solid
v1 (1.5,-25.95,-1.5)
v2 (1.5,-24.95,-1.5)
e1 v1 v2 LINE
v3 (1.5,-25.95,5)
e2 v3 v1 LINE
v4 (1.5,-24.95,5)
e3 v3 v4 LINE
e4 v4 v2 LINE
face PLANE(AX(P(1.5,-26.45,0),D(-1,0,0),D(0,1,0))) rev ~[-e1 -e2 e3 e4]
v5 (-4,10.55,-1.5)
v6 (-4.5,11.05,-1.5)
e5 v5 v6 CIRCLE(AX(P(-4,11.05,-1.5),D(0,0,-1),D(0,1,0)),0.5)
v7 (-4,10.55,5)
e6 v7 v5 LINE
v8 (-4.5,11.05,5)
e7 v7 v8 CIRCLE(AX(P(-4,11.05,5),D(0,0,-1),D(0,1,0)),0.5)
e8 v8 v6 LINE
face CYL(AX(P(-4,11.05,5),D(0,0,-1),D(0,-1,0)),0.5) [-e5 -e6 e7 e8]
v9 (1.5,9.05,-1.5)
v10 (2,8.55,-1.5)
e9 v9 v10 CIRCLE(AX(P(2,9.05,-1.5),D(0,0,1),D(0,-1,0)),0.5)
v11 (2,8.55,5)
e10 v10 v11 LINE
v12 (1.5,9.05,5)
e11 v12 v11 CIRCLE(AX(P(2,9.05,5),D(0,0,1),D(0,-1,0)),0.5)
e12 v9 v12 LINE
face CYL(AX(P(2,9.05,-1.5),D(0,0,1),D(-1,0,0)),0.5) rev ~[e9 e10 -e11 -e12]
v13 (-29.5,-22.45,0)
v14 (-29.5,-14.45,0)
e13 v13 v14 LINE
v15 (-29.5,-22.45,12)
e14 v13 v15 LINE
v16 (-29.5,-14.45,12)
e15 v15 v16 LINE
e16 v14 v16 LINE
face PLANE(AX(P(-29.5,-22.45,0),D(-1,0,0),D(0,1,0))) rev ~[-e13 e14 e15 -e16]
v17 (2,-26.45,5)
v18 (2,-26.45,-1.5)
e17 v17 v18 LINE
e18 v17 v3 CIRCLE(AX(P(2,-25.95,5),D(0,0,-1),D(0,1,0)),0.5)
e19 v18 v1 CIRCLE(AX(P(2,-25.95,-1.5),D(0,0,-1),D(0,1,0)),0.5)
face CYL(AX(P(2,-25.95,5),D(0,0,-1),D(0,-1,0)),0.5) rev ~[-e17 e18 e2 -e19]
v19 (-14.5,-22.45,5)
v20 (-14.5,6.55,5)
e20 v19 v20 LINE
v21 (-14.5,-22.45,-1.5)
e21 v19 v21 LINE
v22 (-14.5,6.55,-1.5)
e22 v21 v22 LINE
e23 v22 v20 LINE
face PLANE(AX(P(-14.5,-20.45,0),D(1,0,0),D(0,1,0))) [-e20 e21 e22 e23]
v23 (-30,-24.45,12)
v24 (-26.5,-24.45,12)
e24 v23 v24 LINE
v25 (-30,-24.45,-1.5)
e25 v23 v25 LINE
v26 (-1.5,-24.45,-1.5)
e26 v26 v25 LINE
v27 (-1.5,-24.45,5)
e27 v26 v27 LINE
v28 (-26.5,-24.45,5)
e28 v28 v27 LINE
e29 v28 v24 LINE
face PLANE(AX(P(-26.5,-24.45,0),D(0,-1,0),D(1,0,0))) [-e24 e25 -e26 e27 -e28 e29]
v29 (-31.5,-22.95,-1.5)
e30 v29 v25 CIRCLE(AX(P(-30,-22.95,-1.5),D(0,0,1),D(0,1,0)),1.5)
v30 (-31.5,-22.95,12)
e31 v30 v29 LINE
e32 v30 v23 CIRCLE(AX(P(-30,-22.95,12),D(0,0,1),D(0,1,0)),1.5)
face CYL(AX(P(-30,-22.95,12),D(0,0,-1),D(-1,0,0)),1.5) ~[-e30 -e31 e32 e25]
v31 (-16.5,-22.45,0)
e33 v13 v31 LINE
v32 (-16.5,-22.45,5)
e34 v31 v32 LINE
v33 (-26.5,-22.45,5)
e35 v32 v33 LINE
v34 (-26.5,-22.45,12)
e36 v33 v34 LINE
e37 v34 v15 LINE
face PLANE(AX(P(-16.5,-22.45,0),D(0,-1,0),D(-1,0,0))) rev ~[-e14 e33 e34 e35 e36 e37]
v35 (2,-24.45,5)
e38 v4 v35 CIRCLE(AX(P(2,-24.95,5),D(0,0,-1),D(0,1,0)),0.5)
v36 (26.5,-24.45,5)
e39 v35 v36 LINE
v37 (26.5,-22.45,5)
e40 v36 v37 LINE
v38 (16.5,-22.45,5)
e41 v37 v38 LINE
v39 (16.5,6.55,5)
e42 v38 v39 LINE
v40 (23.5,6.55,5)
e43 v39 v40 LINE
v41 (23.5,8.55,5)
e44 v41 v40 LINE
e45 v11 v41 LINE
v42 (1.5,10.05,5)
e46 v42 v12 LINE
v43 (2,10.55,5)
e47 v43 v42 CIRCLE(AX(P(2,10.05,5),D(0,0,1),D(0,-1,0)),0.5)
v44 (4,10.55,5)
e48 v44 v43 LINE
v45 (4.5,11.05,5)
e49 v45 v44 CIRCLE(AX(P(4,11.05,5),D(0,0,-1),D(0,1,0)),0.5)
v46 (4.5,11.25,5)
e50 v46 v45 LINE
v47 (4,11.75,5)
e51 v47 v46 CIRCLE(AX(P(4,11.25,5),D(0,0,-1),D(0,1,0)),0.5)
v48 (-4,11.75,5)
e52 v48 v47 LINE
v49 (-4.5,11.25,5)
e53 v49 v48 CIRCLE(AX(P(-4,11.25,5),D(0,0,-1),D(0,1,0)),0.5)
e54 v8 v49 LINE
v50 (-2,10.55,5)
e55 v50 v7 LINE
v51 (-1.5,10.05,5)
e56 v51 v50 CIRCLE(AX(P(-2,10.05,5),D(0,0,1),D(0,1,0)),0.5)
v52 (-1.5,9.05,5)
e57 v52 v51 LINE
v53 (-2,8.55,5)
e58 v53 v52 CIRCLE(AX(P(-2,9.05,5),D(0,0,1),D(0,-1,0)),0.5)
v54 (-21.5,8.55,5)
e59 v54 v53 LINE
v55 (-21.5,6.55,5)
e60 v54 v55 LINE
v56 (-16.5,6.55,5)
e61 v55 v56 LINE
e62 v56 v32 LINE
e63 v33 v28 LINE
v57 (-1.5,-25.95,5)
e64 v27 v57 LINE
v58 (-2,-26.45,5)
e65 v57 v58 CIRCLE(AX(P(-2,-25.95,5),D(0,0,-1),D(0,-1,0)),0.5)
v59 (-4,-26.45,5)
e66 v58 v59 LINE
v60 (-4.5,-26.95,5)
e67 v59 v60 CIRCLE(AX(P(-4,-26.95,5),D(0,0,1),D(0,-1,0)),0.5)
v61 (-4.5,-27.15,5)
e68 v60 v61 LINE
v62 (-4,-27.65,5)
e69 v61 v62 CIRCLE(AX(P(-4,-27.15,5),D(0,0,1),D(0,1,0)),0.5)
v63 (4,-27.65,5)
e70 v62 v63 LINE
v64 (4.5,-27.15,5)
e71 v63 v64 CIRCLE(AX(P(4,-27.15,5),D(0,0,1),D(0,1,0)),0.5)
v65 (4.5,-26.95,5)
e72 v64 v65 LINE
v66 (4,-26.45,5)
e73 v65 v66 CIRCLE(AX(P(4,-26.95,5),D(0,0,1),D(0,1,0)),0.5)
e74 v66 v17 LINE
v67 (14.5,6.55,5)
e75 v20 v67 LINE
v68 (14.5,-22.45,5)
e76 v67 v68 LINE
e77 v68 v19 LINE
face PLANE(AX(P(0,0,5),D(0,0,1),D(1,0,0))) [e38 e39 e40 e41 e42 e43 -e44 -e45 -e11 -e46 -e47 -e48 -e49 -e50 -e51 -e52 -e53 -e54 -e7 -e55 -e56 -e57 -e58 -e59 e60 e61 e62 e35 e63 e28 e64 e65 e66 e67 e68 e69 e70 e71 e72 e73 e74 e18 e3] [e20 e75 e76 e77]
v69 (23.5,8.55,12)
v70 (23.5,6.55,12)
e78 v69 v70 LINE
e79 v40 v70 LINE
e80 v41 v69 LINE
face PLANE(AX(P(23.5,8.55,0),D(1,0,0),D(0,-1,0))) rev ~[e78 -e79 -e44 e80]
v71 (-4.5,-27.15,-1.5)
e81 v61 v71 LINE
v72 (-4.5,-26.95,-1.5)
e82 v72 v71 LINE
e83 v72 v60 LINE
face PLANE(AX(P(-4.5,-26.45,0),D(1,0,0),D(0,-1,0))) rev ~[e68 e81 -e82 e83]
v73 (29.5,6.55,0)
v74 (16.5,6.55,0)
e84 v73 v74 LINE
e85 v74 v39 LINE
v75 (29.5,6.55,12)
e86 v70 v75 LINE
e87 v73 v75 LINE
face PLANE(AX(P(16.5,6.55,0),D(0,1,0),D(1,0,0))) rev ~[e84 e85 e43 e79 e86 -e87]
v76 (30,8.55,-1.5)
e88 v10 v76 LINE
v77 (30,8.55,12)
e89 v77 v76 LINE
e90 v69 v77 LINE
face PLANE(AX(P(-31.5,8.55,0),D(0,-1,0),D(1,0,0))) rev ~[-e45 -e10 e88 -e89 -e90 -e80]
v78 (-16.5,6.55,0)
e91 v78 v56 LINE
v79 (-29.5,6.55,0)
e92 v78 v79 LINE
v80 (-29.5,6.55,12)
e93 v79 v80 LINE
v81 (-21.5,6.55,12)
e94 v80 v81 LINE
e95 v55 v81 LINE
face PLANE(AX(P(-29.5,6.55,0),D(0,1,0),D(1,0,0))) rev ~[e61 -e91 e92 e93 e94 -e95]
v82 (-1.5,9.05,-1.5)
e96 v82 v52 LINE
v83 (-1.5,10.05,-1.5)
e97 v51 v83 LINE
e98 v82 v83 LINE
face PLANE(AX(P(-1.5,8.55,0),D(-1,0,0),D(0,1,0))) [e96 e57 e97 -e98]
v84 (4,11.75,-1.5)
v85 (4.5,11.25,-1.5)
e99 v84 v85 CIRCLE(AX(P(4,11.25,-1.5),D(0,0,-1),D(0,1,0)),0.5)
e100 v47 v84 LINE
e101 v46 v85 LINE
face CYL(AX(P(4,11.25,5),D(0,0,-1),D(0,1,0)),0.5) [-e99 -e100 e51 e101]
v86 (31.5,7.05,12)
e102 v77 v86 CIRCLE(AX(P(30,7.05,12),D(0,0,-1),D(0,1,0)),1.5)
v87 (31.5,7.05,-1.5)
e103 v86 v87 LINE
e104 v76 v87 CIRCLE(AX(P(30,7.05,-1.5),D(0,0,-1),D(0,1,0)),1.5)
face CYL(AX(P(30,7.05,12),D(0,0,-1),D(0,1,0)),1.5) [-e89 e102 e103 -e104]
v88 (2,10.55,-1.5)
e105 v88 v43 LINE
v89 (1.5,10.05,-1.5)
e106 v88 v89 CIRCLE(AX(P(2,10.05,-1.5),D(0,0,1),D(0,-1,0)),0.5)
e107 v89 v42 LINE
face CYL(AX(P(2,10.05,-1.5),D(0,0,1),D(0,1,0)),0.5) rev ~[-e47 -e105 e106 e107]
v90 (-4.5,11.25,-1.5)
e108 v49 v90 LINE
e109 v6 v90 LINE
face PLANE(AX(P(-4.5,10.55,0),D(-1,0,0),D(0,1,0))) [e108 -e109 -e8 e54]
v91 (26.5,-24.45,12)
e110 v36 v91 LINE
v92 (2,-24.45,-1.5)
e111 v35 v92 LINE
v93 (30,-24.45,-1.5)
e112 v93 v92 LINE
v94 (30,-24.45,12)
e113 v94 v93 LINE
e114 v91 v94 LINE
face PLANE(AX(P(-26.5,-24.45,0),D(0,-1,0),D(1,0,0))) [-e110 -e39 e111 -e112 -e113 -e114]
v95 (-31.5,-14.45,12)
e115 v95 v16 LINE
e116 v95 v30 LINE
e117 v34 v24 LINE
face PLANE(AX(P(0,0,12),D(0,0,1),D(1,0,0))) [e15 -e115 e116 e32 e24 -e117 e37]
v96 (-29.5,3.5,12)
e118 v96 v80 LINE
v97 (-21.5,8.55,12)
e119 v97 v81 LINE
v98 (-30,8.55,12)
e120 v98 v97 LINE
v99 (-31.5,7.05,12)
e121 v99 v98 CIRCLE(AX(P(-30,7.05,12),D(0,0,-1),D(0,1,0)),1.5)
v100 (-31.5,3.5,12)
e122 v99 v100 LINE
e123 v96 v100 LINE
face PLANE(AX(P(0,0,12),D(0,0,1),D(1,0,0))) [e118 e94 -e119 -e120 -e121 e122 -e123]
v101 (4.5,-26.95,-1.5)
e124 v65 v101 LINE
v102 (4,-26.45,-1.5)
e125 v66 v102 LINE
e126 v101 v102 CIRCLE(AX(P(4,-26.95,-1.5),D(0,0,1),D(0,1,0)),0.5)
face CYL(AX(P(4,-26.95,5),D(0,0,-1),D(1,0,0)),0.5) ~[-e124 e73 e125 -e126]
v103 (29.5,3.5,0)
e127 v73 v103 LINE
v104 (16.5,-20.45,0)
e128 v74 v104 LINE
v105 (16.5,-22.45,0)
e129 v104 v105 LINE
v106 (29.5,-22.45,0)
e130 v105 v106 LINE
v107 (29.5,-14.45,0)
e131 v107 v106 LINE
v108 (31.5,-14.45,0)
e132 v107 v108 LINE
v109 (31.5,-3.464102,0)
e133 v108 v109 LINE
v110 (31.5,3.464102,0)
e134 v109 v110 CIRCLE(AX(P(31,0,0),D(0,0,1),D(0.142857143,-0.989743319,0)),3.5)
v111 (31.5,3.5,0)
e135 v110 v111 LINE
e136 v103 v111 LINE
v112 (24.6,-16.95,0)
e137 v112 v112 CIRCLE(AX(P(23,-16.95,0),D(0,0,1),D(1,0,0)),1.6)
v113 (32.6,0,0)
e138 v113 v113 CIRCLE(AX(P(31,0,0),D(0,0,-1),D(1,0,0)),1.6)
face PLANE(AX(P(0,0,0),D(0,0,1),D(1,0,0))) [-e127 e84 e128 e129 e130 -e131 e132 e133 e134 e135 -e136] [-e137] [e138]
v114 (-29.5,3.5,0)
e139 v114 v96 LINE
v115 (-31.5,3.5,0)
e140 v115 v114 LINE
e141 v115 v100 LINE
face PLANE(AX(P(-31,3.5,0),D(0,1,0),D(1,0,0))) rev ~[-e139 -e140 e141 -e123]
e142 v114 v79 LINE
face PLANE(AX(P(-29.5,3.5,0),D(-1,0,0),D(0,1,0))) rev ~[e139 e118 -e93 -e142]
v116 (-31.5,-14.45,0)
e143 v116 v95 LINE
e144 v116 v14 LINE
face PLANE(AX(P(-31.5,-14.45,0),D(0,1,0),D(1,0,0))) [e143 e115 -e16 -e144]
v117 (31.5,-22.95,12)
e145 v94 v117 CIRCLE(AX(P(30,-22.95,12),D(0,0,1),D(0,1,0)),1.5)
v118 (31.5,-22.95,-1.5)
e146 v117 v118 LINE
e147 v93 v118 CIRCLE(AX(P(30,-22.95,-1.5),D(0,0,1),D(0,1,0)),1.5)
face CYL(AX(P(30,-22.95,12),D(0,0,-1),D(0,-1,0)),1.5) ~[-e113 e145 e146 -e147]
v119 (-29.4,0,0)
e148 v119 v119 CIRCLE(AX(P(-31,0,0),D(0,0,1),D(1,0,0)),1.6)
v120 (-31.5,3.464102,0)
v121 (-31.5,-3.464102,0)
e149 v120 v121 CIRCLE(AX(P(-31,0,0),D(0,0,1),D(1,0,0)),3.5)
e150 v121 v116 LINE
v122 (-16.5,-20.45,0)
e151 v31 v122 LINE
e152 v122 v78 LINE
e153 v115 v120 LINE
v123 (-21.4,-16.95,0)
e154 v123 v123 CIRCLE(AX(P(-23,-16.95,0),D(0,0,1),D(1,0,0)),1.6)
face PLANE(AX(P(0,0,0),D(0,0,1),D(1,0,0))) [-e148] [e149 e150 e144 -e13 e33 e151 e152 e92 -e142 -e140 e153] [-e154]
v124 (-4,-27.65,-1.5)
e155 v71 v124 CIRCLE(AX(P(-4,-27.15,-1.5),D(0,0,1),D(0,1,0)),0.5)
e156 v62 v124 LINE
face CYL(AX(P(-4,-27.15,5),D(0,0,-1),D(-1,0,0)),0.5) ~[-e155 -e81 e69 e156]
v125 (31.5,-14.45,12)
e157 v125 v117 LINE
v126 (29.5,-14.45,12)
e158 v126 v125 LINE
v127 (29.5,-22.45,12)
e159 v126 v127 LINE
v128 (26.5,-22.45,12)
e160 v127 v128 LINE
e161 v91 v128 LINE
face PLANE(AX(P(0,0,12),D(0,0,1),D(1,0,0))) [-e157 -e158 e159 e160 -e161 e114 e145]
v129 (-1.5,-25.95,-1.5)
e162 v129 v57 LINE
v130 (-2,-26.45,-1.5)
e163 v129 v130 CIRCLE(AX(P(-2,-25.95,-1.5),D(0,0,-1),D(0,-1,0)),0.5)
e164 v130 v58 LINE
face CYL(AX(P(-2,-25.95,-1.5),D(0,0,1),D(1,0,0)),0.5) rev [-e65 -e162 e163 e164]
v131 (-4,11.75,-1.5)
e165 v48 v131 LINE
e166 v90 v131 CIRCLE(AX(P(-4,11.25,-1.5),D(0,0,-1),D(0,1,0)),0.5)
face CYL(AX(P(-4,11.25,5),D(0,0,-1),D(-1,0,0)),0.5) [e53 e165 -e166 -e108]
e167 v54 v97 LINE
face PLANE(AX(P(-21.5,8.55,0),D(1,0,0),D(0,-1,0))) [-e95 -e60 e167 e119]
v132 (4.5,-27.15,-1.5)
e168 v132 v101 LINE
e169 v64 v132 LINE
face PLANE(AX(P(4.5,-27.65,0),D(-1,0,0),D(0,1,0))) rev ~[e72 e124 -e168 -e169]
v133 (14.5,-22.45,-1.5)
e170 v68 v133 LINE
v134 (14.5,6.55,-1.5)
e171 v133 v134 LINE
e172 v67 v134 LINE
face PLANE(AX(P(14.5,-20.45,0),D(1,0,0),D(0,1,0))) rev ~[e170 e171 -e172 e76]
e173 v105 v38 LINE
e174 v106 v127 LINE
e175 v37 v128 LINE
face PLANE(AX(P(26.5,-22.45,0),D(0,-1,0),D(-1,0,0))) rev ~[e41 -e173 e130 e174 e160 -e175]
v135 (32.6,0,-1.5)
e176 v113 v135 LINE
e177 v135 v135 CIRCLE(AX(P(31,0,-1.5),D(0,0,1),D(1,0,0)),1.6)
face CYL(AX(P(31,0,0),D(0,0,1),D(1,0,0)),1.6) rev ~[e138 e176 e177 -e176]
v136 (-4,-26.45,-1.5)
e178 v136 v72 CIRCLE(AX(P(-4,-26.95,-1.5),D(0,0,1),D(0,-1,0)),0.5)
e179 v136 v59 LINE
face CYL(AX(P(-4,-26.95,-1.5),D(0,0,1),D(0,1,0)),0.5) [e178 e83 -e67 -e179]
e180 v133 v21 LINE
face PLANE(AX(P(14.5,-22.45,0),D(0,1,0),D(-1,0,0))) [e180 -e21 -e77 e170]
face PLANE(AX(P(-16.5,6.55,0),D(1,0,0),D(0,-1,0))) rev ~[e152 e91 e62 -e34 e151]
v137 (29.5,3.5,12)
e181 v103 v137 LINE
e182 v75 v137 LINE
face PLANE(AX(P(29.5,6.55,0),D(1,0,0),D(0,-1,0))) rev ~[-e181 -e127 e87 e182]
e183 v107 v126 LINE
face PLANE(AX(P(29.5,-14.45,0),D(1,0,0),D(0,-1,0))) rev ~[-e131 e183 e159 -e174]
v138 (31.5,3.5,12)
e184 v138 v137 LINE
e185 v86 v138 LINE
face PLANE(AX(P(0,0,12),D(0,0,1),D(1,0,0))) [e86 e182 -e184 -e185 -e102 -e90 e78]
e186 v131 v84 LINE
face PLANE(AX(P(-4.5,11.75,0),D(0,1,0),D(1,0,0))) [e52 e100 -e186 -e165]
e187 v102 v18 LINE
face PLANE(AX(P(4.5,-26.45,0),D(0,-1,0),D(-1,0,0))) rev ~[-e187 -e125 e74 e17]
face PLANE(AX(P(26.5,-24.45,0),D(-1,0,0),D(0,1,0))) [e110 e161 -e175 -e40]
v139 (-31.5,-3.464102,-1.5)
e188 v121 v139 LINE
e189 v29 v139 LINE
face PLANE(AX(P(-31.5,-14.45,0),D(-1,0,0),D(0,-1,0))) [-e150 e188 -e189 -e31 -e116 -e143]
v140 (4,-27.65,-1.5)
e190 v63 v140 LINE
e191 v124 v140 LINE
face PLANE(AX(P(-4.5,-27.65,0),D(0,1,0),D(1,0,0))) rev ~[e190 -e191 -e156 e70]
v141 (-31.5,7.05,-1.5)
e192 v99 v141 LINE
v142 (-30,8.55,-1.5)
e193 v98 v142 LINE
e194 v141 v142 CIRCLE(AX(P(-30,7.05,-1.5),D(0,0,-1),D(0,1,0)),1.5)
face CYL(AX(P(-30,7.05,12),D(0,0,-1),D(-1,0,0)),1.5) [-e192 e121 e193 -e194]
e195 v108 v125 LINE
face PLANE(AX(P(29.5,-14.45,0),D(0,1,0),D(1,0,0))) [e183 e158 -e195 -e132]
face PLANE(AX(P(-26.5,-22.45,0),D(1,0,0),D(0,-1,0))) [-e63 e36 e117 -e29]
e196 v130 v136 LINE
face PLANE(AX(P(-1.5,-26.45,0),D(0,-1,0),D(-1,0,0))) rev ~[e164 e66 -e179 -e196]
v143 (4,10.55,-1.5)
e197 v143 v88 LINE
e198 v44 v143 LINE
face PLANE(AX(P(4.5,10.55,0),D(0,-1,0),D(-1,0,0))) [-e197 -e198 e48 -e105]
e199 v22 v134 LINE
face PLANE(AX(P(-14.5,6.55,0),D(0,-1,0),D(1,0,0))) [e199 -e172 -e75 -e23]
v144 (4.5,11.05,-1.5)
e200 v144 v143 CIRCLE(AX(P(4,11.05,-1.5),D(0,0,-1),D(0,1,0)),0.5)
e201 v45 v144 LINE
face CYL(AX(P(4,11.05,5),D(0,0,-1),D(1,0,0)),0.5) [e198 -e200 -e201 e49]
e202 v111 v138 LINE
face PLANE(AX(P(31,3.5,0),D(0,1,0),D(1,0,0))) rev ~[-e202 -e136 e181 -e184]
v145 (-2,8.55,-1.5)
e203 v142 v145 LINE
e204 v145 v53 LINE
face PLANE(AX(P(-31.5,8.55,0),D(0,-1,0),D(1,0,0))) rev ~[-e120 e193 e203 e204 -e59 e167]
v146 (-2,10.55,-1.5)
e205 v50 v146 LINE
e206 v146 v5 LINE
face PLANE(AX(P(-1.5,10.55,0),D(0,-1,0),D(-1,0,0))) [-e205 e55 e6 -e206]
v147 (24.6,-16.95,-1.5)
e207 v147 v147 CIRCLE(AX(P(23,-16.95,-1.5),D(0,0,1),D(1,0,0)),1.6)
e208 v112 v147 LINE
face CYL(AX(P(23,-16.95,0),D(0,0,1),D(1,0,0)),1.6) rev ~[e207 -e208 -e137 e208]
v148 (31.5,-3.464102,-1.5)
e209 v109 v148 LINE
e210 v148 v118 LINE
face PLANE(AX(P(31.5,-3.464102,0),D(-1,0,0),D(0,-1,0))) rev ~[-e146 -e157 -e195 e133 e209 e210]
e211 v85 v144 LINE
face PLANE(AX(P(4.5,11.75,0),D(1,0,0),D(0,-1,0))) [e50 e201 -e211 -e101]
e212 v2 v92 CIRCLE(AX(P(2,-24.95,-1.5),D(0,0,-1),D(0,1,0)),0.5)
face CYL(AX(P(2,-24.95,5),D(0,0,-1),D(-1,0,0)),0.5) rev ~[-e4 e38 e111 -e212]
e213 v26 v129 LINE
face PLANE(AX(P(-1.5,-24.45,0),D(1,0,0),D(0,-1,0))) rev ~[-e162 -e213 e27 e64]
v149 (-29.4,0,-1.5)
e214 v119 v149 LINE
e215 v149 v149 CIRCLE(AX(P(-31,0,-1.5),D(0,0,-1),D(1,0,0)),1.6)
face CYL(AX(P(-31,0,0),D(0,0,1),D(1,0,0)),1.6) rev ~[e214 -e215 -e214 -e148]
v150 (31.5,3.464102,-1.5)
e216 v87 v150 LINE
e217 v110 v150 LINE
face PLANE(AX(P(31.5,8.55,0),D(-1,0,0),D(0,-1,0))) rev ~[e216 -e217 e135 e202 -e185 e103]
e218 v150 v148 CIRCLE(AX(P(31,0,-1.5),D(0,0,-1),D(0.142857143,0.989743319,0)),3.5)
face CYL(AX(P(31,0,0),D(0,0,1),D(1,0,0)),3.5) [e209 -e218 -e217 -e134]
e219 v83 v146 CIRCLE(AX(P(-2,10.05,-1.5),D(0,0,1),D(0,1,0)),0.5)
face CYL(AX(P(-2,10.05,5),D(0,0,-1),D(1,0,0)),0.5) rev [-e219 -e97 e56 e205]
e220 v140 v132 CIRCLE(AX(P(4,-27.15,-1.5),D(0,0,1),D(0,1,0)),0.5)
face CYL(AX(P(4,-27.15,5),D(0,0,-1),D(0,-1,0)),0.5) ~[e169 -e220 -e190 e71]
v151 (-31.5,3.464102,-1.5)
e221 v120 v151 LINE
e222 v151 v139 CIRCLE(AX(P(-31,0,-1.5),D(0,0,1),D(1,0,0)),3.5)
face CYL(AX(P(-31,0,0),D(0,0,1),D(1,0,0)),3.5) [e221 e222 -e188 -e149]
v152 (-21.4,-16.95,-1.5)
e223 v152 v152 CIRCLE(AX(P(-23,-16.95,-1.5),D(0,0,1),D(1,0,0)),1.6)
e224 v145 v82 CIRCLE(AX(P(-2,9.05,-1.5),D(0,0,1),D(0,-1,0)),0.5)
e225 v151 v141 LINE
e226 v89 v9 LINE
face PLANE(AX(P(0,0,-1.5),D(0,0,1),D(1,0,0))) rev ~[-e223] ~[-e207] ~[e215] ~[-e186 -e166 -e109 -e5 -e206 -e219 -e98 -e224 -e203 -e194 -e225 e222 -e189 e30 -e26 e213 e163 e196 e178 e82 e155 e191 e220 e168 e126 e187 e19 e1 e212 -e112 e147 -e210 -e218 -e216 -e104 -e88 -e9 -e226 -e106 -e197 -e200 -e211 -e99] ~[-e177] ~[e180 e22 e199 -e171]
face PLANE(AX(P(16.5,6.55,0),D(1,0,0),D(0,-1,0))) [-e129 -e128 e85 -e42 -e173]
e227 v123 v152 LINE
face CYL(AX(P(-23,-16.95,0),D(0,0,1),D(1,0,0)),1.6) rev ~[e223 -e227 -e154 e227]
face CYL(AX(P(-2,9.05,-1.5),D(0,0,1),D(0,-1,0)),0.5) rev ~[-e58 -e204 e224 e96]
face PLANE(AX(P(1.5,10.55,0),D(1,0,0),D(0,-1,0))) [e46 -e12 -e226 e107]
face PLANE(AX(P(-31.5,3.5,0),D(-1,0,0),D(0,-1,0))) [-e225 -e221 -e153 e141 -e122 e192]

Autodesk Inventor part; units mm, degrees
ref_plane "YZ Plane" through (0, 0, 0) normal (1, 0, 0) x (0, 1, 0)
ref_plane "XZ Plane" through (0, 0, 0) normal (0, 1, 0) x (-1, 0, 0)
ref_plane "XY Plane" through (0, 0, 0) normal (0, 0, 1) x (1, 0, 0)
sketch "スケッチ1" plane through (0, 0, 0) normal (0, 0, 1) x (1, 0, 0)
  line L0 (-44.3295, 0) -> (44.3295, 0) construction
  line L1 (0, 23.7122) -> (0, -23.7122) construction
  line L2 (-26.6016, -16.95) -> (26.6016, -16.95) construction
  line L3 (-23, 17.7575) -> (-23, -30.8175) construction
  line L4 (23, -30.8175) -> (23, 17.7575) construction
  line L5 (-31, 17.7575) -> (-31, -30.8175) construction
  line L6 (31, -30.8175) -> (31, 17.7575) construction
  circle A0 centre (-31, 0) radius 1.6
  circle A1 centre (-23, -16.95) radius 1.6
  circle A2 centre (23, -16.95) radius 1.6
  circle A3 centre (31, 0) radius 1.6
  line L7 (-29.5, 6.55) -> (29.5, 6.55)
  line L8 (29.5, 6.55) -> (29.5, -22.45)
  line L9 (29.5, -22.45) -> (-29.5, -22.45)
  line L10 (-29.5, -22.45) -> (-29.5, 6.55)
  circle A4 centre (-23, -16.95) radius 3.5
  circle A5 centre (-31, 0) radius 3.5
  circle A6 centre (23, -16.95) radius 3.5
  circle A7 centre (31, 0) radius 3.5
  line L11 (-31.5, 8.55) -> (31.5, 8.55)
  line L12 (-31.5, 8.55) -> (-31.5, -24.45)
  line L13 (31.5, 8.55) -> (31.5, -24.45)
  line L14 (-31.5, -24.45) -> (31.5, -24.45)
  line L15 (-23, -20.45) -> (23, -20.45)
  line L16 (-26.5, -22.45) -> (-26.5, -24.45)
  line L17 (26.5, -24.45) -> (26.5, -22.45)
  line L18 (-31.5, -14.45) -> (-29.5, -14.45)
  line L19 (-31.5, 3.5) -> (-29.5, 3.5)
  line L20 (29.5, 3.5) -> (31.5, 3.5)
  line L21 (29.5, -14.45) -> (31.5, -14.45)
  line L22 (-21.5, 8.55) -> (-21.5, 6.55)
  line L23 (23.5, 8.55) -> (23.5, 6.55)
  line L24 (-16.5, 8.55) -> (-16.5, -24.45)
  line L25 (-14.5, -24.45) -> (-14.5, 8.55)
  line L26 (16.5, 8.55) -> (16.5, -24.45)
  line L27 (14.5, -24.45) -> (14.5, 8.55)
  line L28 (-40.1456, -7.95) -> (40.1456, -7.95) construction
  line L29 (-1.5, 8.55) -> (-1.5, 10.55)
  line L30 (-1.5, 10.55) -> (-4.5, 10.55)
  line L31 (-4.5, 10.55) -> (-4.5, 11.75)
  line L32 (-4.5, 11.75) -> (4.5, 11.75)
  line L33 (4.5, 11.75) -> (4.5, 10.55)
  line L34 (4.5, 10.55) -> (1.5, 10.55)
  line L35 (1.5, 10.55) -> (1.5, 8.55)
  line L36 (-1.5, -24.45) -> (-1.5, -26.45)
  line L37 (-1.5, -26.45) -> (-4.5, -26.45)
  line L38 (-4.5, -26.45) -> (-4.5, -27.65)
  line L39 (-4.5, -27.65) -> (4.5, -27.65)
  line L40 (4.5, -27.65) -> (4.5, -26.45)
  line L41 (4.5, -26.45) -> (1.5, -26.45)
  line L42 (1.5, -26.45) -> (1.5, -24.45)
  point P0 (0, 0)
  point P1 (0, 0)
  point P2 (0, -16.95)
  point P3 (0, -22.45)
  point P4 (-31.5, 3.4641)
  point P5 (-31.5, -3.4641)
  point P6 (-26.3541, -17.95)
  point P7 (26.3541, -17.95)
  point P8 (31.5, -3.4641)
  point P9 (31.5, 3.4641)
  point P10 (29.5, -3.1623)
  point P11 (25.8723, -14.95)
  point P12 (-19.6459, -17.95)
  point P13 (19.6459, -17.95)
  point P14 (20.1277, -14.95)
  point P15 (-20.1277, -14.95)
  point P16 (-25.8723, -14.95)
  point P17 (-29.5, -3.1623)
  point P18 (29.5, 3.1623)
  point P19 (-29.5, 3.1623)
  point P20 (0, -7.95)
  point P21 (16.5, -22.45)
  point P22 (14.5, -22.45)
  point P23 (-14.5, -22.45)
  point P24 (-16.5, -22.45)
  point P25 (16.5, 6.55)
  point P26 (14.5, 6.55)
  point P27 (-14.5, 6.55)
  point P28 (-16.5, 6.55)
  point P29 (14.5, -20.45)
  point P30 (-14.5, -20.45)
  dimension "MOUNT_W" = 16.95
  dimension "d1" = 23
  dimension "d2" = 31
  dimension "d3" = 3.2
  dimension "d4" = 59
  dimension "d5" = 29
  dimension "d8" = 7
  dimension "d9" = 2
  dimension "d10" = 2
  dimension "d11" = 2
  dimension "d12" = 2
  dimension "d18" = 8
  dimension "d19" = 8
  dimension "d20" = 8
  dimension "d24" = 2
  dimension "d25" = 2
  dimension "d26" = 2
  dimension "d27" = 13
  dimension "d28" = 13
  dimension "d33" = 3
  dimension "d34" = 9
  dimension "d35" = 2
  dimension "d36" = 1.2
extrude "ベース" add sketch "スケッチ1" against normal blind 1.5 contours A0 L10 A5 | A0 L12 A5 L10 | L10 A5 L12 A0 | A0 L12 A5 | A5 L19 L10 | A4 | L10 L7 L24 L9 A5 | L10 L18 L12 A5 | L12 L19 A5 | L19 L12 L11 L22 L7 L10 | L10 L9 L16 L14 L12 L18 | L22 L11 L24 L7 | L9 L24 L14 L16 | L24 L11 L25 L7 | L7 L25 L15 L24 | L24 L15 L25 L9 | L9 L25 L14 L24 | L25 L11 L27 L7 | L7 L27 L15 L25 | L25 L15 L27 L9 | L9 L27 L14 L25 | L27 L11 L26 L7 | L7 L26 L15 L27 | L27 L15 L26 L9 | L9 L26 L14 L27 | L26 L11 L23 L7 | A6 | L7 L8 A7 L9 L26 | L9 L17 L14 L26 | L23 L11 L13 L20 L8 L7 | L9 L8 L21 L13 L14 L17 | L20 A7 L8 | L8 A7 L13 L21 | A7 L13 A3 L8 | L8 A3 A7 | L20 L13 A7 | L8 A3 L13 A7 | A7 L13 A3
extrude "囲い柱" add sketch "スケッチ1" along normal blind 12 contours L19 L12 L11 L22 L7 L10 | L10 L9 L16 L14 L12 L18 | L23 L11 L13 L20 L8 L7 | L9 L8 L21 L13 L14 L17
extrude "底上げ" add sketch "スケッチ1" along normal blind 5 contours L22 L11 L24 L7 | L9 L24 L14 L16 | L24 L11 L25 L7 | L7 L25 L15 L24 | L24 L15 L25 L9 | L9 L25 L14 L24 | L25 L11 L27 L7 | L9 L27 L14 L25 | L27 L11 L26 L7 | L7 L26 L15 L27 | L27 L15 L26 L9 | L9 L26 L14 L27 | L26 L11 L23 L7 | L9 L17 L14 L26
extrude "肉抜き" cut sketch "スケッチ1" against normal through all contours L7 L27 L15 L25 | L25 L15 L27 L9
extrude "輪ゴムタブ" add sketch "スケッチ1" along normal blind 5 and the other way blind 1.5 contours L29 L30 L31 L32 L33 L34 L35 L11 | L14 L42 L41 L40 L39 L38 L37 L36
fillet "フィレット1" radius 1.5 4 edges at (-31.5, 8.55, 5.25) (31.5, 8.55, 5.25) (-31.5, -24.45, 5.25) (31.5, -24.45, 5.25)
fillet "フィレット2" radius 0.5 15 edges at (-4.5, 11.75, 1.75) (-4.5, 10.55, 1.75) (4.5, 10.55, 1.75) (4.5, 11.75, 1.75) (1.5, 10.55, 1.75) (1.5, 8.55, 1.75) (-1.5, 10.55, 1.75) (-1.5, 8.55, 1.75) (-1.5, -26.45, 1.75) (-4.5, -26.45, 1.75) (-4.5, -27.65, 1.75) (4.5, -26.45, 1.75) (1.5, -24.45, 1.75) (4.5, -27.65, 1.75) (1.5, -26.45, 1.75)
equation "\"d5\" = BAT_W + CLEARANCE"
equation "\"d9\" = TAB_W"
equation "\"d10\" = d9"
equation "\"d11\" = d9"
equation "\"d12\" = d9"
equation "\"d18\" = d19"
equation "\"d20\" = d19"
equation "\"d26\" = d25"
equation "\"d28\" = d27"
equation "\"d22\" = TAB_H"
equation "\"BAT_L\" = 58"
equation "\"BAT_W\" = 28"
equation "\"CLEARANCE\" = 1"
equation "\"TAB_W\" = 2"
equation "\"TAB_H\" = 12"
properties part number "Battery-Holder-2x2"
